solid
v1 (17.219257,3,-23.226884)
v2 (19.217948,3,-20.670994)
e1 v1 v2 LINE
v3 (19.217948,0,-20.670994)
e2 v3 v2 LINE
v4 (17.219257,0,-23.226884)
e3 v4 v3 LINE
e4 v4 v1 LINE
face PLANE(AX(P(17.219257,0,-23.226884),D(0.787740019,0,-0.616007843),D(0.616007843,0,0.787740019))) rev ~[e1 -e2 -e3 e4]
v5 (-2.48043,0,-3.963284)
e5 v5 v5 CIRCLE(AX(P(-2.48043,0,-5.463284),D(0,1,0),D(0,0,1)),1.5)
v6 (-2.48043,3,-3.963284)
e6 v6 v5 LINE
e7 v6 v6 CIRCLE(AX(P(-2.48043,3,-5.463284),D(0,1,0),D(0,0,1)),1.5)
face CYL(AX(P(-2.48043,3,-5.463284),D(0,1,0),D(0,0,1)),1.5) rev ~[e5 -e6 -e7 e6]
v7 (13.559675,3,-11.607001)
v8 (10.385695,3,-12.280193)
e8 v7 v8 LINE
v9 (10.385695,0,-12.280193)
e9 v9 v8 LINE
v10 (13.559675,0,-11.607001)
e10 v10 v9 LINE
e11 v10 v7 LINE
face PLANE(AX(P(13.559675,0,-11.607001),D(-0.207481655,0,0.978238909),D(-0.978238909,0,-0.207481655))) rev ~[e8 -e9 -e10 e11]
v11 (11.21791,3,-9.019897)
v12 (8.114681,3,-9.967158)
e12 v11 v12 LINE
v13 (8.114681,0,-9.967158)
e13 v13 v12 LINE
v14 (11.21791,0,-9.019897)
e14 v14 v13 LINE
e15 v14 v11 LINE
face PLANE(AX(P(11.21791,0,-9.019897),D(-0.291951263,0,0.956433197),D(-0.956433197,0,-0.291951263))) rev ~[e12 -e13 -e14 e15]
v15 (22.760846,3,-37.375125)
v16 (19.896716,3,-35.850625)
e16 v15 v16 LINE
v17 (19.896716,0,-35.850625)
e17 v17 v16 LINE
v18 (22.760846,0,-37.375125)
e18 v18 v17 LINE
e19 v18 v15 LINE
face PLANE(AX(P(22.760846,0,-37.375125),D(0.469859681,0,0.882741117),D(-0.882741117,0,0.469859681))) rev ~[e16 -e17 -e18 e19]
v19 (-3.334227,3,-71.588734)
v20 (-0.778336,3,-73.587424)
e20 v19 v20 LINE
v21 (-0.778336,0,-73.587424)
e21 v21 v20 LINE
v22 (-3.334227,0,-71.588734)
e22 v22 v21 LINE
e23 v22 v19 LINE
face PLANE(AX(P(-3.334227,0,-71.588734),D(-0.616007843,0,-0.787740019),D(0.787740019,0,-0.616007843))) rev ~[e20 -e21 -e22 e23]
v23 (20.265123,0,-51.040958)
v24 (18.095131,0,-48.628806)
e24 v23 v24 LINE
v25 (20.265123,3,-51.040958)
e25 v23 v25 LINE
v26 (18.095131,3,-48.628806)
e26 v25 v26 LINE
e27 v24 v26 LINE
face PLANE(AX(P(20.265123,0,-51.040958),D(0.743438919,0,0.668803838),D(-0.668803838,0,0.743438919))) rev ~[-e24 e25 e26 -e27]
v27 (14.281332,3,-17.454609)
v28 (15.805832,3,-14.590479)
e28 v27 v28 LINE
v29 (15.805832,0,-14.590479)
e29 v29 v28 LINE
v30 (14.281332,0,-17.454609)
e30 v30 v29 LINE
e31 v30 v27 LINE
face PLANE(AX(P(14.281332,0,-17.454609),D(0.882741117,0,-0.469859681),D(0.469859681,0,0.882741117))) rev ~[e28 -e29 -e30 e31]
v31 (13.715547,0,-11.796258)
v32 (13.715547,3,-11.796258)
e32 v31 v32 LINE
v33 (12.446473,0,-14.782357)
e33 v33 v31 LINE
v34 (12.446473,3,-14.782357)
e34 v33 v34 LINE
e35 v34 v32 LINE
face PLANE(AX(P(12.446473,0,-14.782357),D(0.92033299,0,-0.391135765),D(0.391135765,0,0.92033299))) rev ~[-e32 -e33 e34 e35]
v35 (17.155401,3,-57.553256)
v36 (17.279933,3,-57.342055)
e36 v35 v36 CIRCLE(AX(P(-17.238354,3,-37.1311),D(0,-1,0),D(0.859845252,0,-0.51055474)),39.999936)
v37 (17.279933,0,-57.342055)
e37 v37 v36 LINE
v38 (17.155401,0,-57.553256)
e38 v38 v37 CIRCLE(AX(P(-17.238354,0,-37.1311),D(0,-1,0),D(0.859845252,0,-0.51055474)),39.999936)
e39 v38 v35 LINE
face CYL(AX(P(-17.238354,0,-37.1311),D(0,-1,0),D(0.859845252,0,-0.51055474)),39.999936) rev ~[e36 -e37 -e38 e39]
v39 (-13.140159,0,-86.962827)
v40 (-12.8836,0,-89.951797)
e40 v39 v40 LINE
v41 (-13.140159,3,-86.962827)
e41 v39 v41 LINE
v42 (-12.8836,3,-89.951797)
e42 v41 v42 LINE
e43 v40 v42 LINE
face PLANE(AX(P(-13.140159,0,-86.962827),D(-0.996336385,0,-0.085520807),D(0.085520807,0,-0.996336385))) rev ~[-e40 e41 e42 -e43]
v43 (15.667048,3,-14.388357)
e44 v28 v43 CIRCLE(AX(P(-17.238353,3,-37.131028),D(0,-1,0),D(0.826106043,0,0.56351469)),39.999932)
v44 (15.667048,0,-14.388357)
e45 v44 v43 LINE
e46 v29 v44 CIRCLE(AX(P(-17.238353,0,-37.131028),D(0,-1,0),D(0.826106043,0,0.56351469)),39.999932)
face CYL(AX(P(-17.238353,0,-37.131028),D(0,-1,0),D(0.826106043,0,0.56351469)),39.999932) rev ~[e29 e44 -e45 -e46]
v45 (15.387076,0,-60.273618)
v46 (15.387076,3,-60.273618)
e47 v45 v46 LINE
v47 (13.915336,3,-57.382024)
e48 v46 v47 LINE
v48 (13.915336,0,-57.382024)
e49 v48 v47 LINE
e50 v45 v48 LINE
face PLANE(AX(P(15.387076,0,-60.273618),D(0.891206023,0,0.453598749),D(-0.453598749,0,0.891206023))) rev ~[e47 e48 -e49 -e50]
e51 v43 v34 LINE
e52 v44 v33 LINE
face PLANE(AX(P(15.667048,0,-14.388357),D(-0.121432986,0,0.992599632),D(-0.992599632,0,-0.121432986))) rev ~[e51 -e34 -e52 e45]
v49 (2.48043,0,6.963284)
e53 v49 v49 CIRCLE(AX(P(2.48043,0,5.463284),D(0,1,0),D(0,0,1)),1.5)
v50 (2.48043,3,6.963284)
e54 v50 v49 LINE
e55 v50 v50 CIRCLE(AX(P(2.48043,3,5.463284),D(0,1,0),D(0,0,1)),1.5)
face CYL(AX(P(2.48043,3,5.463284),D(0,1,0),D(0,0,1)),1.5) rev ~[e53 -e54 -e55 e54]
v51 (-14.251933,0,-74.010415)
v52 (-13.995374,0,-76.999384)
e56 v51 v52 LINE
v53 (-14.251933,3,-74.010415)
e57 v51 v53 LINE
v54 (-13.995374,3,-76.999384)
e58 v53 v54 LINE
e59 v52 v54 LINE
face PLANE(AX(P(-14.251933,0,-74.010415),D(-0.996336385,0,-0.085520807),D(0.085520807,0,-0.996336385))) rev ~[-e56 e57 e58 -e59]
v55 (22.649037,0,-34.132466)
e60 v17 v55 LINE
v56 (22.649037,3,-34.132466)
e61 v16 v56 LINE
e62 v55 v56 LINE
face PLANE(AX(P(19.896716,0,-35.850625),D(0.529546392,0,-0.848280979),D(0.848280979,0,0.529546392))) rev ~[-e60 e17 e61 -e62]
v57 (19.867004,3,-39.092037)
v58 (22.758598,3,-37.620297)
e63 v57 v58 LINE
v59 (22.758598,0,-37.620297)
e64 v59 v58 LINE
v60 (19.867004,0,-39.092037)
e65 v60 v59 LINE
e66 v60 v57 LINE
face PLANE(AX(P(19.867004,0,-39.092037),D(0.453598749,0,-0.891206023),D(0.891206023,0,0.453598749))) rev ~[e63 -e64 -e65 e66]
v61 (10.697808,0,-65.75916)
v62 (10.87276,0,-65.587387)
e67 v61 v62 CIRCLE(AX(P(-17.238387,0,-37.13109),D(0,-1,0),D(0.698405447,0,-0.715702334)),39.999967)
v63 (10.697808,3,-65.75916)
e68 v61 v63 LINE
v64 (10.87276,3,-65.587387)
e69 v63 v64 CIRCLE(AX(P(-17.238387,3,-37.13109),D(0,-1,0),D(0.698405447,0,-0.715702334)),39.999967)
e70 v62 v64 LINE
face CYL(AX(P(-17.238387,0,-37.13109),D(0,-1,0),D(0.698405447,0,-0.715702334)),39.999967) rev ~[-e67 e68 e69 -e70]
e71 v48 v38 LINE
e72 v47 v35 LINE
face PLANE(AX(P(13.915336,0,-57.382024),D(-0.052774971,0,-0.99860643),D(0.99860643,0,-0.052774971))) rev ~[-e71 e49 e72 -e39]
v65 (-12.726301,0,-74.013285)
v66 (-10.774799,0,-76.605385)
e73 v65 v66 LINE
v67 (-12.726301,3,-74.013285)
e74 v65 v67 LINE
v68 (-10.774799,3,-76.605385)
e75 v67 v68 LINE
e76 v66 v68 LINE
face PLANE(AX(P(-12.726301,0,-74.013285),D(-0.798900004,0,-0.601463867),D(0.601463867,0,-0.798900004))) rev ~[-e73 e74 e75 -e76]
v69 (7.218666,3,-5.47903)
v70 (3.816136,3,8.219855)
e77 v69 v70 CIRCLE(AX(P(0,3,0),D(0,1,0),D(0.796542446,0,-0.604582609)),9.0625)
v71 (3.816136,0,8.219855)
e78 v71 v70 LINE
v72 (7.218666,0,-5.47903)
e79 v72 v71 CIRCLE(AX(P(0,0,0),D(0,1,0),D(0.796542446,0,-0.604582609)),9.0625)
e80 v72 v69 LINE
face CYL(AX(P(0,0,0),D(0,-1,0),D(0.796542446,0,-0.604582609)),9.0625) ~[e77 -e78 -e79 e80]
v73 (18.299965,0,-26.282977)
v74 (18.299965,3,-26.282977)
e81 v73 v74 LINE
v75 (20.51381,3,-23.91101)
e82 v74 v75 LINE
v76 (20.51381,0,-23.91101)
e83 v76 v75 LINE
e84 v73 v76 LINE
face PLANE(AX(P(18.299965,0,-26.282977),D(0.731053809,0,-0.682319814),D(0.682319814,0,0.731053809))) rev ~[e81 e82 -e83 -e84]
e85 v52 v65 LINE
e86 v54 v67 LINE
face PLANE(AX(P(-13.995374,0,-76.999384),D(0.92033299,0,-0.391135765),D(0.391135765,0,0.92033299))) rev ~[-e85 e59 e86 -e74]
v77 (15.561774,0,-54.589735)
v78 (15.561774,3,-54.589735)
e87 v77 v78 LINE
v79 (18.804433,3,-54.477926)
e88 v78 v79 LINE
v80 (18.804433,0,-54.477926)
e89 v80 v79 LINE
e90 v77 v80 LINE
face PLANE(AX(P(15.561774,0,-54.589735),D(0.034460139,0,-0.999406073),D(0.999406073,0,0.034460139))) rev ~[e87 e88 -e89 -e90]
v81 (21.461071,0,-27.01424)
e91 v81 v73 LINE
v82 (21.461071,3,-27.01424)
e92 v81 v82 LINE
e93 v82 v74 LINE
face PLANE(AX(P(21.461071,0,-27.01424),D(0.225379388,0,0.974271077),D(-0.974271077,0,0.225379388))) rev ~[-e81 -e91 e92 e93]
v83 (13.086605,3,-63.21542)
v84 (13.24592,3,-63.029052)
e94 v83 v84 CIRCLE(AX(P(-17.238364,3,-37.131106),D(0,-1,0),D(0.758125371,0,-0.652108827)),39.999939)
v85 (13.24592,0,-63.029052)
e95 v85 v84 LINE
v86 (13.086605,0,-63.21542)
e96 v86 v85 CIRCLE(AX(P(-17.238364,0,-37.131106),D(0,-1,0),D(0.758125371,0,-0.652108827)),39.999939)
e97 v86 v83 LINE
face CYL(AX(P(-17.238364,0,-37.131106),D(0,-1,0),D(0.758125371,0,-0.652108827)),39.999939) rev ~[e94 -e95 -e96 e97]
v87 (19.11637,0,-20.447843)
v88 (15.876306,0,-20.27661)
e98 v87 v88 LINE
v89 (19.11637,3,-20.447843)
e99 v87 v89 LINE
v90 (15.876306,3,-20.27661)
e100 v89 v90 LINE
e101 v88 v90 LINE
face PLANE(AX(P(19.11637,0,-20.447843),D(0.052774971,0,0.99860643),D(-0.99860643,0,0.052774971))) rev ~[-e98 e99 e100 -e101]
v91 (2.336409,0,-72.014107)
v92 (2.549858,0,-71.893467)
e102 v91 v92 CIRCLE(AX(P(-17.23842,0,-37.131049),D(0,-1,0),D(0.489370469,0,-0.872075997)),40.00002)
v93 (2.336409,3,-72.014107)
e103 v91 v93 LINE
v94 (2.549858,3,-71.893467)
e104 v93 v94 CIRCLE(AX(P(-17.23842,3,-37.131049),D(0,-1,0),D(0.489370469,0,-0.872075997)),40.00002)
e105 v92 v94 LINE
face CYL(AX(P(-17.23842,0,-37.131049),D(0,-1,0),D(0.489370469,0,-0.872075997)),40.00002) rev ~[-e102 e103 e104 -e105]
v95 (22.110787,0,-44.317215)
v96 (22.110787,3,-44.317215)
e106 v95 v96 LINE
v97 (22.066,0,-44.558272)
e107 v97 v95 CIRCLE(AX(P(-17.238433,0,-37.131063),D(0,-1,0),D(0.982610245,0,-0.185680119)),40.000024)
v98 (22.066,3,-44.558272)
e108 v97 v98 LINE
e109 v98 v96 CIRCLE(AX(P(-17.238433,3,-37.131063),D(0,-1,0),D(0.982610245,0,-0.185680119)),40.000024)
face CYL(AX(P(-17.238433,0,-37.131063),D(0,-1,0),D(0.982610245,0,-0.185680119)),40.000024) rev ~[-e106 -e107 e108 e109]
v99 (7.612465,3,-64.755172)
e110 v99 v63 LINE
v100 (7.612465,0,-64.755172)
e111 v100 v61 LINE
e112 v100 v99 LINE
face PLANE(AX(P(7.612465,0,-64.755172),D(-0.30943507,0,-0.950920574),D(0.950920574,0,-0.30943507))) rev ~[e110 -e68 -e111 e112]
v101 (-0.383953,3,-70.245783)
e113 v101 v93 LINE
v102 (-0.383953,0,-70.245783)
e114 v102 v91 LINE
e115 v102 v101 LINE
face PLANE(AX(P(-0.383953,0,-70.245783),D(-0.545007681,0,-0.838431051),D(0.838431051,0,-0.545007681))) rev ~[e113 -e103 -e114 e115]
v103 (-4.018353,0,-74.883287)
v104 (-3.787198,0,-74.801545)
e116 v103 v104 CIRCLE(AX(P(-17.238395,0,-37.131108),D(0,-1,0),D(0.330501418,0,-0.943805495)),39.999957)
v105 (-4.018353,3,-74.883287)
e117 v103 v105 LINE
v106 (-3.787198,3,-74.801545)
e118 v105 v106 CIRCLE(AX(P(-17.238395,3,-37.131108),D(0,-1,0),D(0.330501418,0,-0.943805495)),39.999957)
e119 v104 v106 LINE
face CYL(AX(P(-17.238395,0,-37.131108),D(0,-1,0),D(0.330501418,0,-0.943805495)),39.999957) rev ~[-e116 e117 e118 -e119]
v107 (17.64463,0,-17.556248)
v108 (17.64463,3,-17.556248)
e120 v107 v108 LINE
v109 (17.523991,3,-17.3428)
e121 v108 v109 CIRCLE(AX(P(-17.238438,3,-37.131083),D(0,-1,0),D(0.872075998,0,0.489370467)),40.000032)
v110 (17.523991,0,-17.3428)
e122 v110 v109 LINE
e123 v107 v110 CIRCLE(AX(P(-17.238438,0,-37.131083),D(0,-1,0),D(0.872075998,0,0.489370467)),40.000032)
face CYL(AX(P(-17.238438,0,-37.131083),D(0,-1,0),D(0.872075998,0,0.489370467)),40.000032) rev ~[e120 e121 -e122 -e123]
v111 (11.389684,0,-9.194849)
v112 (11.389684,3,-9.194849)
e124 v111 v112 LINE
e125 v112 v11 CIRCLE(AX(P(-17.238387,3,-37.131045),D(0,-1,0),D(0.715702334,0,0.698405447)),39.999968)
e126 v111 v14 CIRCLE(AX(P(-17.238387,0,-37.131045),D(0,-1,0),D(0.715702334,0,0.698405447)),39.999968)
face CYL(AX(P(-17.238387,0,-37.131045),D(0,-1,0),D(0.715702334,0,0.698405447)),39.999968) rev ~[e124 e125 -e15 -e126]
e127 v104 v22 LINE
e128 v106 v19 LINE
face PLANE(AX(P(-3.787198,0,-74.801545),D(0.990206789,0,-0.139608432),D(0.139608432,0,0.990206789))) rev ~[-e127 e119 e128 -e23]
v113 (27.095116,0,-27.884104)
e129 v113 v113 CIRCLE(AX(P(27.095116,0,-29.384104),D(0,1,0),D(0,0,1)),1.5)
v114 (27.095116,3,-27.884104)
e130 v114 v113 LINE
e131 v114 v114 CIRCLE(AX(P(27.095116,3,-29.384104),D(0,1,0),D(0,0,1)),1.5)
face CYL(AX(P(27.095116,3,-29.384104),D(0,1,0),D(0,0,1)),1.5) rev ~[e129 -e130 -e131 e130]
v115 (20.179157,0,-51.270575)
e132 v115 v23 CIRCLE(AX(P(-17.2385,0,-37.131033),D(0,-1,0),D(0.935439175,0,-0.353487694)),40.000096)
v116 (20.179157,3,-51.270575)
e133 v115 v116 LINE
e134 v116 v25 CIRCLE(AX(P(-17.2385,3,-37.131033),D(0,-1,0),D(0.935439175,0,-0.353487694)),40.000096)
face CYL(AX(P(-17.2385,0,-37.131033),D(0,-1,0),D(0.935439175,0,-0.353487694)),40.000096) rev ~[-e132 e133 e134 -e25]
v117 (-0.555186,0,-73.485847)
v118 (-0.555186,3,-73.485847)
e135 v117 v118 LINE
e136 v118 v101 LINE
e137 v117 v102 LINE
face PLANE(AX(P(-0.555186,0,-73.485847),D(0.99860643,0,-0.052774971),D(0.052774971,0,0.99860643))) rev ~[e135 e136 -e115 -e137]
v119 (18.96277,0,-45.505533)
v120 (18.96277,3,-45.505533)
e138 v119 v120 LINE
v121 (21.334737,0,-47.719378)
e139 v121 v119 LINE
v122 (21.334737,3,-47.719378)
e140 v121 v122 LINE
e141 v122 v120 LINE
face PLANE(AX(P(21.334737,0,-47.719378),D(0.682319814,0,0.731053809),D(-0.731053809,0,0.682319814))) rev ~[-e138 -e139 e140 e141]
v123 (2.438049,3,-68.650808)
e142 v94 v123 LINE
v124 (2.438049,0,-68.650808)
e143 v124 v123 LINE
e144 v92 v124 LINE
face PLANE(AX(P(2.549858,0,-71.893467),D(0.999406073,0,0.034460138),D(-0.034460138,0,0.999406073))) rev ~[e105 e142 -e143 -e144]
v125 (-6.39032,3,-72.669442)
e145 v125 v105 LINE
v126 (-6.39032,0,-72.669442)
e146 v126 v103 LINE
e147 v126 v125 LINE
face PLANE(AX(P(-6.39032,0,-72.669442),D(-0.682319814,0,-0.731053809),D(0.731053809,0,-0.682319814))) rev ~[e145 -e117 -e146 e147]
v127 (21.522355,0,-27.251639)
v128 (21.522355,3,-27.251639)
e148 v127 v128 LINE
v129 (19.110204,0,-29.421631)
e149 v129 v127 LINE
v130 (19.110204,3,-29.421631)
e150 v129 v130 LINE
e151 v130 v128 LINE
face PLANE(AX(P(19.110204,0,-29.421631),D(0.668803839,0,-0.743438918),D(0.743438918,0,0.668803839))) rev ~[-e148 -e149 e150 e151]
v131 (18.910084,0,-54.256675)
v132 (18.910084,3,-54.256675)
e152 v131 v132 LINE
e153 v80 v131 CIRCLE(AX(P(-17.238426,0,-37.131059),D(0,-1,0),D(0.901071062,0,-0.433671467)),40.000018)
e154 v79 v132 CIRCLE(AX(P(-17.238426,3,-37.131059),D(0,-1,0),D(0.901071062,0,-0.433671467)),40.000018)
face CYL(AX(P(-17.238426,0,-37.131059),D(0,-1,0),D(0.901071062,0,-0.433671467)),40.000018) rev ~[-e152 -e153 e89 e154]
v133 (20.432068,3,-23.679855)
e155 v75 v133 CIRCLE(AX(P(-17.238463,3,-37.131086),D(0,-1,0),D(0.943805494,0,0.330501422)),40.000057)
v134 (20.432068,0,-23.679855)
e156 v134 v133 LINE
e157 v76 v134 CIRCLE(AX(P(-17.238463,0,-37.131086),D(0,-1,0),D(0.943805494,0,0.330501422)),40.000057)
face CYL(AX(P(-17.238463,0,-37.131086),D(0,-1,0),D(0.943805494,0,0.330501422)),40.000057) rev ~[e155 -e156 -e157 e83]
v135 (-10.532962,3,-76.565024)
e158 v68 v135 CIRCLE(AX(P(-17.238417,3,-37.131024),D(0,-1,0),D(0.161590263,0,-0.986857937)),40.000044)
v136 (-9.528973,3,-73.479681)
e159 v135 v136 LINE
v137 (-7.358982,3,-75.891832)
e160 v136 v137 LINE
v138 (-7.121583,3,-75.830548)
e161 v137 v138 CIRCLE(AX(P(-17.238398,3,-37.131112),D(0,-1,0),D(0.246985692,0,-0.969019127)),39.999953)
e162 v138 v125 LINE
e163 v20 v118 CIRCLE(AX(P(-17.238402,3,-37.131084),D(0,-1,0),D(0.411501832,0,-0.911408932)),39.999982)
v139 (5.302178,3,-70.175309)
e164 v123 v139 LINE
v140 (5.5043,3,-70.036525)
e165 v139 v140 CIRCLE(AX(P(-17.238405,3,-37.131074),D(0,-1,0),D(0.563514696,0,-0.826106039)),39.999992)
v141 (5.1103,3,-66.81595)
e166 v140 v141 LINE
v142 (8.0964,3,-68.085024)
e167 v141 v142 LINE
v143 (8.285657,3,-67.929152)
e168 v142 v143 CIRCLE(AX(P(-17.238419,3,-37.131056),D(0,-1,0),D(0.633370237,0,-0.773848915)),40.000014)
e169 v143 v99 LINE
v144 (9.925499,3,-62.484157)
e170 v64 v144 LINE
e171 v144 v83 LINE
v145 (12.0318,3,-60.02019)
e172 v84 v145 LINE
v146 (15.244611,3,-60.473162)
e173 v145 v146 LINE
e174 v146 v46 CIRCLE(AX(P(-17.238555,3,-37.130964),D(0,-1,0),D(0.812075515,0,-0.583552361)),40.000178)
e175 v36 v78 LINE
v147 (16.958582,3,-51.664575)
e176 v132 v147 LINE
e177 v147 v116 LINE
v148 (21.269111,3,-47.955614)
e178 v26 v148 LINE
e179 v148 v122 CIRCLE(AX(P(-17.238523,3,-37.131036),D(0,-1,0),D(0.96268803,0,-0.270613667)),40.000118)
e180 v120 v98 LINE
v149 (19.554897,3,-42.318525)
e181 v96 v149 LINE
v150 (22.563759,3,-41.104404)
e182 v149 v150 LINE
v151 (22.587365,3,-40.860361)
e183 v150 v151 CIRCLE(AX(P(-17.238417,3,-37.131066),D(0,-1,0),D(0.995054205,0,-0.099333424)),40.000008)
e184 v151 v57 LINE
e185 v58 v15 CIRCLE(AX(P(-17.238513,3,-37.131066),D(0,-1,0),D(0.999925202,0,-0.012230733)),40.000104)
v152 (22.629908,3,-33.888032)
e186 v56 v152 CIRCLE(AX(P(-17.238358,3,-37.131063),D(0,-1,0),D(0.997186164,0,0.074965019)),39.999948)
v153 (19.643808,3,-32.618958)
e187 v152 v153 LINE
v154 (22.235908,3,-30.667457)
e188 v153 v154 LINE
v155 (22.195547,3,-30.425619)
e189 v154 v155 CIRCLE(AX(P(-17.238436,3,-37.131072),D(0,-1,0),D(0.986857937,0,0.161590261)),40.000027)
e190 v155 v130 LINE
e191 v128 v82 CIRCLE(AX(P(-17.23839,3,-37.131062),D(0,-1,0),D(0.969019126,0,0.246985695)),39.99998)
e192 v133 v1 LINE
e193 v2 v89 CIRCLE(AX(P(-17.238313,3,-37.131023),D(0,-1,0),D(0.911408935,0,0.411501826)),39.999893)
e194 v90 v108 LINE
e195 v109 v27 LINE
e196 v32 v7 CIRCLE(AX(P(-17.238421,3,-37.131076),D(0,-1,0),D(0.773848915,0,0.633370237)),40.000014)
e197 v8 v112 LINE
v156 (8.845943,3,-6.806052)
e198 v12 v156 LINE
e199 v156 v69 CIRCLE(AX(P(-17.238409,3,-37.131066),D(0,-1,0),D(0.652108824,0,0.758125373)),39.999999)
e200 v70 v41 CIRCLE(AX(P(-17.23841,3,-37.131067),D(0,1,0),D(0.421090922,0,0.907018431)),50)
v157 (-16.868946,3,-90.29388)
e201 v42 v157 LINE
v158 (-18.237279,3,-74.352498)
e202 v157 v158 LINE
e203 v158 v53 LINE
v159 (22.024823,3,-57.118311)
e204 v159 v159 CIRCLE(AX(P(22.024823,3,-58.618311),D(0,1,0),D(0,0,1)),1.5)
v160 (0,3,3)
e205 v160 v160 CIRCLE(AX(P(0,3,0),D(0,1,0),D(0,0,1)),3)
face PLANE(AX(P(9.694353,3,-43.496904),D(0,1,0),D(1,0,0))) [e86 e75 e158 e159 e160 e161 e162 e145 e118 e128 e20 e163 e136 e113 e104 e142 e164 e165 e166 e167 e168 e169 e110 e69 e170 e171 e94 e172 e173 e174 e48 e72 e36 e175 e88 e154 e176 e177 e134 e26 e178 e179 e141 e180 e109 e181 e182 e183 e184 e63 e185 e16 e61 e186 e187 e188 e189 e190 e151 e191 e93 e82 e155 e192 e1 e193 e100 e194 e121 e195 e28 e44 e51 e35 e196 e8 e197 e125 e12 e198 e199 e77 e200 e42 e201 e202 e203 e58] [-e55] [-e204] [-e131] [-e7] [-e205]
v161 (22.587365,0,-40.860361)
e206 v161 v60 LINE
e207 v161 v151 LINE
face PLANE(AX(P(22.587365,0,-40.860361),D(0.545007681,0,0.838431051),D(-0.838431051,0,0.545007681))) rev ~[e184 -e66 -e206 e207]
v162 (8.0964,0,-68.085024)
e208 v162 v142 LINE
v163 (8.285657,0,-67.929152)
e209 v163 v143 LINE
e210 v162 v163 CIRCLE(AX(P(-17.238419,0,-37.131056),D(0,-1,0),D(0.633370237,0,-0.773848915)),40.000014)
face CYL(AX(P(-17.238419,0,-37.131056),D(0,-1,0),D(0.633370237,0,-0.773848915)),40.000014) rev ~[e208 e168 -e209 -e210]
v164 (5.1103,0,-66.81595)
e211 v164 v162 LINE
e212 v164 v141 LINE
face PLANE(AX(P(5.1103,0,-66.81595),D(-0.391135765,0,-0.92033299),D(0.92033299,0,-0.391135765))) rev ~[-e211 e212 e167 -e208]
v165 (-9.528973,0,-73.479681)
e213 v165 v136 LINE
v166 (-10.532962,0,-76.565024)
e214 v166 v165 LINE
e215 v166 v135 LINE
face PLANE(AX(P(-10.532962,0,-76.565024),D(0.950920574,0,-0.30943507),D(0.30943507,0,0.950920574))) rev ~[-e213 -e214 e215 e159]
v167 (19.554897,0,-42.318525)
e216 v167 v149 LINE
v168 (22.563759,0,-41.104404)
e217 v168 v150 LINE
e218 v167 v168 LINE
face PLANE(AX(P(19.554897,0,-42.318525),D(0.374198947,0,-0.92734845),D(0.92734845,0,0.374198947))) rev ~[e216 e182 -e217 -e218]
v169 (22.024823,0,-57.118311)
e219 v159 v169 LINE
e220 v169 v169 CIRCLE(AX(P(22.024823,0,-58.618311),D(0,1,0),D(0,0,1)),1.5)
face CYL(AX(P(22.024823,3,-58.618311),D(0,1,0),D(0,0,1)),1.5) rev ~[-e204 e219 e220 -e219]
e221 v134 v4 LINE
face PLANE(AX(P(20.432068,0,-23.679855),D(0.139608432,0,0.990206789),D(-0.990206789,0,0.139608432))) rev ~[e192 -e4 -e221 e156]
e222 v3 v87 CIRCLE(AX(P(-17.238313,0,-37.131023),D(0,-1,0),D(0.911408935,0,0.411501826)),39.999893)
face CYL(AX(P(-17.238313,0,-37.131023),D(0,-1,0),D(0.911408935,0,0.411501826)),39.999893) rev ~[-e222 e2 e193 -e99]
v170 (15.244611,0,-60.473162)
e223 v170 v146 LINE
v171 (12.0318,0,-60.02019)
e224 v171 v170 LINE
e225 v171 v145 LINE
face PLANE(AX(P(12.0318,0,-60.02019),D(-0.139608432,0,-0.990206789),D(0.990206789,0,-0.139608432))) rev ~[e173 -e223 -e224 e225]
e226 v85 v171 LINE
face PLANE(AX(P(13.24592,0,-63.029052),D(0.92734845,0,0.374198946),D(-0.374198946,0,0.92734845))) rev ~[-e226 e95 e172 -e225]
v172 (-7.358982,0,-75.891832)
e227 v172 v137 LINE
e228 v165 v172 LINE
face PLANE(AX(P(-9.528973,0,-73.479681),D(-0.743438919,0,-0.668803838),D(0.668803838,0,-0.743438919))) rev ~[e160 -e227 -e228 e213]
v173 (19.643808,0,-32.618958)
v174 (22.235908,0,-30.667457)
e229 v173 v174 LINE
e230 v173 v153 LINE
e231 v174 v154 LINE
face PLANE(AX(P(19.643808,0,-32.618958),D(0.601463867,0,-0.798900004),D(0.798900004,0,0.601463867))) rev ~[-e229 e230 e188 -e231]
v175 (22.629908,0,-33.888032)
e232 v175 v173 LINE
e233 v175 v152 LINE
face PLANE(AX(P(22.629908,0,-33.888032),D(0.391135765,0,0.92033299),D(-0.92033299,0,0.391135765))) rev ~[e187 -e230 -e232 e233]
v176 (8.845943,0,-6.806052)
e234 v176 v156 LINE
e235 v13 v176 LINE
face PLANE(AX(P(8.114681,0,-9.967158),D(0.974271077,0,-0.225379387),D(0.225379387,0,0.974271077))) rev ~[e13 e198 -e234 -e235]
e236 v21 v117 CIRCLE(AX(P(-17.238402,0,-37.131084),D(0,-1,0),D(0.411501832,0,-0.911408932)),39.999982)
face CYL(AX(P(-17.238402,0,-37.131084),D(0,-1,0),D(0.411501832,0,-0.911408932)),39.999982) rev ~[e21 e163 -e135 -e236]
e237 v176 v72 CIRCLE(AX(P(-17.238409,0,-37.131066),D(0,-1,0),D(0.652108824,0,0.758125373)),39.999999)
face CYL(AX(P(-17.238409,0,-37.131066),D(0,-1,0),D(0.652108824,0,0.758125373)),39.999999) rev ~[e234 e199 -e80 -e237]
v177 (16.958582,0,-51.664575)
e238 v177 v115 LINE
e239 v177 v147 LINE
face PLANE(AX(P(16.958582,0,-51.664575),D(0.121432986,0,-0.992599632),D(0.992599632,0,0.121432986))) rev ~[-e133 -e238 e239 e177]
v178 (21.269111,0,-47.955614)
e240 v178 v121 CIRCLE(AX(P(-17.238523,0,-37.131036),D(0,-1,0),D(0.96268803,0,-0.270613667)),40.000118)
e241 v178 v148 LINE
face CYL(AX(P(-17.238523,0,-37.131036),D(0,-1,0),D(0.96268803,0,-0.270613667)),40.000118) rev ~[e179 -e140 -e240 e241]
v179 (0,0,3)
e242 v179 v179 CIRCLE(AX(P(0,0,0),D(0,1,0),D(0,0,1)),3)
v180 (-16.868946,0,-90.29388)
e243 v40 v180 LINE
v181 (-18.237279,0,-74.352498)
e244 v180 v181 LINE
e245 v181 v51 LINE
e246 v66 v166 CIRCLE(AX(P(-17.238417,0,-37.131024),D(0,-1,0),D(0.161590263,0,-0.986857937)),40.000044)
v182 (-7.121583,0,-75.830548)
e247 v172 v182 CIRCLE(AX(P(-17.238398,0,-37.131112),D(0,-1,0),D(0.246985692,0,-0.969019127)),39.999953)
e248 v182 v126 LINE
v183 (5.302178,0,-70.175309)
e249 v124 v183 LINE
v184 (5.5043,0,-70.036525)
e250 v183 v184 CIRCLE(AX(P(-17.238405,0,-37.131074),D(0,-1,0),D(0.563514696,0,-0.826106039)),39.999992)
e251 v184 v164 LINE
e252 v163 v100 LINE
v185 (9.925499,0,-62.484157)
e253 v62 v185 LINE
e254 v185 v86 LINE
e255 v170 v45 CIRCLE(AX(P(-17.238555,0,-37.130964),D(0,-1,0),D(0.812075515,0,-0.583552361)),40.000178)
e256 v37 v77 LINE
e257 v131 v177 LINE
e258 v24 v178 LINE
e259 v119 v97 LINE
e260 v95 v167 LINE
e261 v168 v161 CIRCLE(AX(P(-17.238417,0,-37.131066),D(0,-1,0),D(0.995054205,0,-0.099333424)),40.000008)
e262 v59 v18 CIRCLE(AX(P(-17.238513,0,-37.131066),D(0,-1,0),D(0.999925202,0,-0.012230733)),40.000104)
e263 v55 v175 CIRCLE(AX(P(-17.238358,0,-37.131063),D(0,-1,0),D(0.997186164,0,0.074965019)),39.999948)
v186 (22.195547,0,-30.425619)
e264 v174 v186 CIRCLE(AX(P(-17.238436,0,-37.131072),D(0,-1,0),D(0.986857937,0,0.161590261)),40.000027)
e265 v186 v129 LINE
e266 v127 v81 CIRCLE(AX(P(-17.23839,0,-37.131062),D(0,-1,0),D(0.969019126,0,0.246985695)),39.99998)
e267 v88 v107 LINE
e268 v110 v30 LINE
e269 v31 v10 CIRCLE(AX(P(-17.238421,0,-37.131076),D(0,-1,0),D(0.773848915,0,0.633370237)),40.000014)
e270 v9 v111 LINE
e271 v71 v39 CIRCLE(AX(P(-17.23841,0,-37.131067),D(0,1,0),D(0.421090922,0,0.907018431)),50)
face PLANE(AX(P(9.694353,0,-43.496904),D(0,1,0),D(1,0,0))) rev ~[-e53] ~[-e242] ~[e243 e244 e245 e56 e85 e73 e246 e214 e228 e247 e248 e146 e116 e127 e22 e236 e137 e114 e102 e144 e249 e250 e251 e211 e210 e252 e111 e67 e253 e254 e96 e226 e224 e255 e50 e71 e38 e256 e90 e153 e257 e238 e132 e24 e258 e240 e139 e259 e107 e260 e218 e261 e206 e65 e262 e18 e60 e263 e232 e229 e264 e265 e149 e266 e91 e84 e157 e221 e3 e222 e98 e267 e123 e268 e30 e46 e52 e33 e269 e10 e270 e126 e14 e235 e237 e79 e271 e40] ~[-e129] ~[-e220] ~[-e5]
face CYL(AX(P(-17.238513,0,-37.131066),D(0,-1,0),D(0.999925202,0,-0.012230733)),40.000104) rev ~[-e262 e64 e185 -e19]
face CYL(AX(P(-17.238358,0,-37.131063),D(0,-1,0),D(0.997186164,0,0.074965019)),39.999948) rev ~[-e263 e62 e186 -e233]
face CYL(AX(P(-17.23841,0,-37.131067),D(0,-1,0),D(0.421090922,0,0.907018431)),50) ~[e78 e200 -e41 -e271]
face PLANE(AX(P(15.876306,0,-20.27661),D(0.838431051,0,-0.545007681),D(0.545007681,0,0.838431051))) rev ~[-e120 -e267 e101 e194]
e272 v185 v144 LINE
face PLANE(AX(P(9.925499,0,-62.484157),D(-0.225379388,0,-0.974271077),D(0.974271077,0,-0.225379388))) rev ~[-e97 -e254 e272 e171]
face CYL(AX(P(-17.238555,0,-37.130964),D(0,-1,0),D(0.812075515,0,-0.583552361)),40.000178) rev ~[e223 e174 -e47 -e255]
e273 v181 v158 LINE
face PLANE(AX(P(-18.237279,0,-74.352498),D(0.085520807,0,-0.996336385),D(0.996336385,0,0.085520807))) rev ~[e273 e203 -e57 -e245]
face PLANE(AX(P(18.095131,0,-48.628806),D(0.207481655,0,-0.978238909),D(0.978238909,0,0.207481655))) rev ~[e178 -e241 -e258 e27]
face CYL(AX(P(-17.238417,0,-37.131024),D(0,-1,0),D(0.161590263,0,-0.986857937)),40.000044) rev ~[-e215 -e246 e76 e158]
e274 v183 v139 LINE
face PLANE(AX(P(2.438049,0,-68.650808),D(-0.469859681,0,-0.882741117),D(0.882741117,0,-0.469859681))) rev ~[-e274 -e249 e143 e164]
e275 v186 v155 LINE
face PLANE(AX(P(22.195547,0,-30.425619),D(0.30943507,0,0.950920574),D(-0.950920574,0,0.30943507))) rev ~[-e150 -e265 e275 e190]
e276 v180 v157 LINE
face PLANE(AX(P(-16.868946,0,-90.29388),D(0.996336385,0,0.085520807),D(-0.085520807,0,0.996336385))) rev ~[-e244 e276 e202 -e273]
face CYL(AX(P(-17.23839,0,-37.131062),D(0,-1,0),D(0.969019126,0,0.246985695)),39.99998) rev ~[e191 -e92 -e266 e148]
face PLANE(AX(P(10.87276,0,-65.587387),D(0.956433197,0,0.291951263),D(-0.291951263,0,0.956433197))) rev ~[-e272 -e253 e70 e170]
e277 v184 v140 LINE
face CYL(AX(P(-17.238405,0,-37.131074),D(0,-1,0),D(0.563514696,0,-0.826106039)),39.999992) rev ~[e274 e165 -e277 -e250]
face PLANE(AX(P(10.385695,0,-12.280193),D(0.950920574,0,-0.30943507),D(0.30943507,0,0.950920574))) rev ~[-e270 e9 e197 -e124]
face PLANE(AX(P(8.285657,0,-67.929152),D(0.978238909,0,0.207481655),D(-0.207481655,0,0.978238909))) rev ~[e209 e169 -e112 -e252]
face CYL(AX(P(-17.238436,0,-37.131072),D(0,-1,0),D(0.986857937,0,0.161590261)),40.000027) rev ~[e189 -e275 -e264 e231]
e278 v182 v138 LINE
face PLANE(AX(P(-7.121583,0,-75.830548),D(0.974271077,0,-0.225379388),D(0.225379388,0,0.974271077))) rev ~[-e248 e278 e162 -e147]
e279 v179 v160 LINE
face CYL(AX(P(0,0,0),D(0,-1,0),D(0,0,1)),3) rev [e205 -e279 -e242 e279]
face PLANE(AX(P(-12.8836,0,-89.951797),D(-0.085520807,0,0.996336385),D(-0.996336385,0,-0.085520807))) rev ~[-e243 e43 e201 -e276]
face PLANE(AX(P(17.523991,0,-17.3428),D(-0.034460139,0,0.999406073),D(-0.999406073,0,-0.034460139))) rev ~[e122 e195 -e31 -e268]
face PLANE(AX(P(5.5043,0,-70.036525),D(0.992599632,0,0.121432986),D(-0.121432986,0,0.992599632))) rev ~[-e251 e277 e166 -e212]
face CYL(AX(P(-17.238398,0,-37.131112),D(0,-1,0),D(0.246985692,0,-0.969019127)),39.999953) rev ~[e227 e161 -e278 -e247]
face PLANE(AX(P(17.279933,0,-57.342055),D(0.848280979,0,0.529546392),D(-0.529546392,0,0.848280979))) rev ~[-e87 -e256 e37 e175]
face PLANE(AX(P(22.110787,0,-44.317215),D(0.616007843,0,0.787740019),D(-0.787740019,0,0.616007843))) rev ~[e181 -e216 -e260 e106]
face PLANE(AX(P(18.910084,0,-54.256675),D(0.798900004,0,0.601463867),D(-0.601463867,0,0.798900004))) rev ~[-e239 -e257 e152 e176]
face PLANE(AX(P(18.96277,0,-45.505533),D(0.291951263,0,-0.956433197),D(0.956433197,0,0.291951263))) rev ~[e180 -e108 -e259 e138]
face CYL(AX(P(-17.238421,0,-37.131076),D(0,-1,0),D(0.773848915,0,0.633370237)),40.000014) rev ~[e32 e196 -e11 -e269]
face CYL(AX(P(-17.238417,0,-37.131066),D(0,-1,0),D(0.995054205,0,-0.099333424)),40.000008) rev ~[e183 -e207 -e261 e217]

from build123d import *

# Parameters (mm, degrees)
SKETCH_1_R          = 3
EXTRUDE_1_DEPTH     = 3
SKETCH_2_R          = 1.5
CUT_EXTRUDE_1_DEPTH = 35
SKETCH_3_R          = 1.5
CUT_EXTRUDE_2_DEPTH = 10


with BuildPart() as part:
    # 草图1 → 凸台-拉伸1 (new body)
    with BuildSketch(Plane(origin=(0, 0, 0), x_dir=(1, 0, 0), z_dir=(0, 1, 0))):
        with BuildLine():
            Line((-14.251933165, 74.010414785), (-13.995374148, 76.999384294))
            Line((-13.995374148, 76.999384294), (-12.726300539, 74.013284805))
            Line((-12.726300539, 74.013284805), (-10.774799328, 76.605384534))
            ThreePointArc((-10.774799328, 76.605384534), (-10.653849778, 76.585389633), (-10.532962075, 76.565024143))
            Line((-10.532962075, 76.565024143), (-9.528973393, 73.479680611))
            Line((-9.528973393, 73.479680611), (-7.358981856, 75.891832081))
            ThreePointArc((-7.358981856, 75.891832081), (-7.240235225, 75.861371819), (-7.121582506, 75.830547768))
            Line((-7.121582506, 75.830547768), (-6.390319712, 72.669441521))
            Line((-6.390319712, 72.669441521), (-4.018352795, 74.883286801))
            ThreePointArc((-4.018352795, 74.883286801), (-3.902712818, 74.842592999), (-3.787198101, 74.801544977))
            Line((-3.787198101, 74.801544977), (-3.334226545, 71.588733941))
            Line((-3.334226545, 71.588733941), (-0.778336348, 73.587424334))
            ThreePointArc((-0.778336348, 73.587424334), (-0.666683115, 73.536806696), (-0.555185537, 73.485847103))
            Line((-0.555185537, 73.485847103), (-0.383952607, 70.245782711))
            Line((-0.383952607, 70.245782711), (2.336409001, 72.014106975))
            ThreePointArc((2.336409001, 72.014106975), (2.443225743, 71.953950731), (2.549857617, 71.893467401))
            Line((2.549857617, 71.893467401), (2.438048736, 68.650808499))
            Line((2.438048736, 68.650808499), (5.302178162, 70.175308618))
            ThreePointArc((5.302178162, 70.175308618), (5.403345471, 70.106071595), (5.504300109, 70.036524842))
            Line((5.504300109, 70.036524842), (5.110300349, 66.815950022))
            Line((5.110300349, 66.815950022), (8.096399838, 68.085023631))
            ThreePointArc((8.096399838, 68.085023631), (8.191147771, 68.007232764), (8.285656848, 67.929151881))
            Line((8.285656848, 67.929151881), (7.612464785, 64.755171662))
            Line((7.612464785, 64.755171662), (10.697808317, 65.759160344))
            ThreePointArc((10.697808317, 65.759160344), (10.785415785, 65.673407668), (10.872760029, 65.587386897))
            Line((10.872760029, 65.587386897), (9.925499062, 62.484157186))
            Line((9.925499062, 62.484157186), (13.086605309, 63.21541998))
            ThreePointArc((13.086605309, 63.21541998), (13.166405566, 63.122358125), (13.245920234, 63.029052137))
            Line((13.245920234, 63.029052137), (12.031799591, 60.020190385))
            Line((12.031799591, 60.020190385), (15.244610627, 60.473161941))
            ThreePointArc((15.244610627, 60.473161941), (15.315996344, 60.373499163), (15.387076283, 60.273618073))
            Line((15.387076283, 60.273618073), (13.915336154, 57.382023534))
            Line((13.915336154, 57.382023534), (17.155400546, 57.553256464))
            ThreePointArc((17.155400546, 57.553256464), (17.217828436, 57.447751259), (17.279932683, 57.342055221))
            Line((17.279932683, 57.342055221), (15.561773901, 54.589734677))
            Line((15.561773901, 54.589734677), (18.804432803, 54.477925795))
            ThreePointArc((18.804432803, 54.477925795), (18.857427751, 54.36738112), (18.910083656, 54.256674546))
            Line((18.910083656, 54.256674546), (16.958582445, 51.664574817))
            Line((16.958582445, 51.664574817), (20.179157265, 51.270575057))
            ThreePointArc((20.179157265, 51.270575057), (20.222315948, 51.155832223), (20.265122768, 51.040957657))
            Line((20.265122768, 51.040957657), (18.095131231, 48.628806187))
            Line((18.095131231, 48.628806187), (21.26911145, 47.955614125))
            ThreePointArc((21.26911145, 47.955614125), (21.302105404, 47.837546395), (21.334737353, 47.719378101))
            Line((21.334737353, 47.719378101), (18.962770436, 45.50553282))
            Line((18.962770436, 45.50553282), (22.066000147, 44.558271853))
            ThreePointArc((22.066000147, 44.558271853), (22.088578269, 44.437777794), (22.110786998, 44.317215104))
            Line((22.110786998, 44.317215104), (19.554896802, 42.318524712))
            Line((19.554896802, 42.318524712), (22.563758554, 41.104404068))
            ThreePointArc((22.563758554, 41.104404068), (22.57574901, 40.982400713), (22.587365497, 40.860361182))
            Line((22.587365497, 40.860361182), (19.867003889, 39.092036918))
            Line((19.867003889, 39.092036918), (22.758598428, 37.62029679))
            ThreePointArc((22.758598428, 37.62029679), (22.759909963, 37.497712656), (22.7608458, 37.375125079))
            Line((22.7608458, 37.375125079), (19.896716374, 35.85062496))
            Line((19.896716374, 35.85062496), (22.649036919, 34.132466177))
            ThreePointArc((22.649036919, 34.132466177), (22.639659553, 34.010234206), (22.629907617, 33.888031548))
            Line((22.629907617, 33.888031548), (19.643808128, 32.618957939))
            Line((19.643808128, 32.618957939), (22.235907857, 30.667456728))
            ThreePointArc((22.235907857, 30.667456728), (22.215912956, 30.546507177), (22.195547466, 30.425619474))
            Line((22.195547466, 30.425619474), (19.110203935, 29.421630793))
            Line((19.110203935, 29.421630793), (21.522355404, 27.251639255))
            ThreePointArc((21.522355404, 27.251639255), (21.491895142, 27.132892625), (21.461071091, 27.014239906))
            Line((21.461071091, 27.014239906), (18.299964844, 26.282977111))
            Line((18.299964844, 26.282977111), (20.513810124, 23.911010194))
            ThreePointArc((20.513810124, 23.911010194), (20.473116322, 23.795370217), (20.432068301, 23.6798555))
            Line((20.432068301, 23.6798555), (17.219257265, 23.226883944))
            Line((17.219257265, 23.226883944), (19.217947657, 20.670993748))
            ThreePointArc((19.217947657, 20.670993748), (19.167330019, 20.559340514), (19.116370426, 20.447842937))
            Line((19.116370426, 20.447842937), (15.876306034, 20.276610007))
            Line((15.876306034, 20.276610007), (17.644630298, 17.556248398))
            ThreePointArc((17.644630298, 17.556248398), (17.584474055, 17.449431657), (17.523990725, 17.342799782))
            Line((17.523990725, 17.342799782), (14.281331822, 17.454608664))
            Line((14.281331822, 17.454608664), (15.805831942, 14.590479238))
            ThreePointArc((15.805831942, 14.590479238), (15.736594919, 14.489311928), (15.667048166, 14.38835729))
            Line((15.667048166, 14.38835729), (12.446473346, 14.78235705))
            Line((12.446473346, 14.78235705), (13.715546954, 11.796257561))
            ThreePointArc((13.715546954, 11.796257561), (13.637756087, 11.701509628), (13.559675204, 11.607000551))
            Line((13.559675204, 11.607000551), (10.385694985, 12.280192614))
            Line((10.385694985, 12.280192614), (11.389683667, 9.194849082))
            ThreePointArc((11.389683667, 9.194849082), (11.303930991, 9.107241614), (11.217910221, 9.019897371))
            Line((11.217910221, 9.019897371), (8.114680509, 9.967158338))
            Line((8.114680509, 9.967158338), (8.845943303, 6.80605209))
            ThreePointArc((8.845943303, 6.80605209), (8.041013726, 6.131861333), (7.218665918, 5.479029897))
            ThreePointArc((7.218665918, 5.479029897), (-8.795258648, 2.184566676), (3.816136485, -8.219854535))
            ThreePointArc((3.816136485, -8.219854535), (31.986599548, 45.900244344), (-13.140159276, 86.962827432))
            Line((-13.140159276, 86.962827432), (-12.883600259, 89.951796941))
            Line((-12.883600259, 89.951796941), (-16.868945799, 90.293880168))
            Line((-16.868945799, 90.293880168), (-18.237278704, 74.352498011))
            Line((-18.237278704, 74.352498011), (-14.251933165, 74.010414785))
        make_face()
        with Locations(Location((0, 0, 0), (0, 0, 270))):
            Circle(SKETCH_1_R, mode=Mode.SUBTRACT)
    extrude(amount=EXTRUDE_1_DEPTH)

    # 草图2 → 切除-拉伸1 (cut)
    with BuildSketch(Plane(origin=(0, 3, 0), x_dir=(1, 0, 0), z_dir=(0, 1, 0))):
        with Locations(Location((-2.480429629, 5.463283706, 0), (0, 0, 270))):
            Circle(SKETCH_2_R)
        with Locations(Location((2.480429629, -5.463283706, 0), (0, 0, 270))):
            Circle(SKETCH_2_R)
    extrude(amount=-CUT_EXTRUDE_1_DEPTH, mode=Mode.SUBTRACT)

    # 草图3 → 切除-拉伸2 (cut)
    with BuildSketch(Plane(origin=(0, 3, 0), x_dir=(1, 0, 0), z_dir=(0, 1, 0))):
        with Locations(Location((27.095115734, 29.384103679, 0), (0, 0, 270))):
            Circle(SKETCH_3_R)
        with Locations(Location((22.024822818, 58.618310712, 0), (0, 0, 270))):
            Circle(SKETCH_3_R)
    extrude(amount=-CUT_EXTRUDE_2_DEPTH, mode=Mode.SUBTRACT)


solid = part.part
